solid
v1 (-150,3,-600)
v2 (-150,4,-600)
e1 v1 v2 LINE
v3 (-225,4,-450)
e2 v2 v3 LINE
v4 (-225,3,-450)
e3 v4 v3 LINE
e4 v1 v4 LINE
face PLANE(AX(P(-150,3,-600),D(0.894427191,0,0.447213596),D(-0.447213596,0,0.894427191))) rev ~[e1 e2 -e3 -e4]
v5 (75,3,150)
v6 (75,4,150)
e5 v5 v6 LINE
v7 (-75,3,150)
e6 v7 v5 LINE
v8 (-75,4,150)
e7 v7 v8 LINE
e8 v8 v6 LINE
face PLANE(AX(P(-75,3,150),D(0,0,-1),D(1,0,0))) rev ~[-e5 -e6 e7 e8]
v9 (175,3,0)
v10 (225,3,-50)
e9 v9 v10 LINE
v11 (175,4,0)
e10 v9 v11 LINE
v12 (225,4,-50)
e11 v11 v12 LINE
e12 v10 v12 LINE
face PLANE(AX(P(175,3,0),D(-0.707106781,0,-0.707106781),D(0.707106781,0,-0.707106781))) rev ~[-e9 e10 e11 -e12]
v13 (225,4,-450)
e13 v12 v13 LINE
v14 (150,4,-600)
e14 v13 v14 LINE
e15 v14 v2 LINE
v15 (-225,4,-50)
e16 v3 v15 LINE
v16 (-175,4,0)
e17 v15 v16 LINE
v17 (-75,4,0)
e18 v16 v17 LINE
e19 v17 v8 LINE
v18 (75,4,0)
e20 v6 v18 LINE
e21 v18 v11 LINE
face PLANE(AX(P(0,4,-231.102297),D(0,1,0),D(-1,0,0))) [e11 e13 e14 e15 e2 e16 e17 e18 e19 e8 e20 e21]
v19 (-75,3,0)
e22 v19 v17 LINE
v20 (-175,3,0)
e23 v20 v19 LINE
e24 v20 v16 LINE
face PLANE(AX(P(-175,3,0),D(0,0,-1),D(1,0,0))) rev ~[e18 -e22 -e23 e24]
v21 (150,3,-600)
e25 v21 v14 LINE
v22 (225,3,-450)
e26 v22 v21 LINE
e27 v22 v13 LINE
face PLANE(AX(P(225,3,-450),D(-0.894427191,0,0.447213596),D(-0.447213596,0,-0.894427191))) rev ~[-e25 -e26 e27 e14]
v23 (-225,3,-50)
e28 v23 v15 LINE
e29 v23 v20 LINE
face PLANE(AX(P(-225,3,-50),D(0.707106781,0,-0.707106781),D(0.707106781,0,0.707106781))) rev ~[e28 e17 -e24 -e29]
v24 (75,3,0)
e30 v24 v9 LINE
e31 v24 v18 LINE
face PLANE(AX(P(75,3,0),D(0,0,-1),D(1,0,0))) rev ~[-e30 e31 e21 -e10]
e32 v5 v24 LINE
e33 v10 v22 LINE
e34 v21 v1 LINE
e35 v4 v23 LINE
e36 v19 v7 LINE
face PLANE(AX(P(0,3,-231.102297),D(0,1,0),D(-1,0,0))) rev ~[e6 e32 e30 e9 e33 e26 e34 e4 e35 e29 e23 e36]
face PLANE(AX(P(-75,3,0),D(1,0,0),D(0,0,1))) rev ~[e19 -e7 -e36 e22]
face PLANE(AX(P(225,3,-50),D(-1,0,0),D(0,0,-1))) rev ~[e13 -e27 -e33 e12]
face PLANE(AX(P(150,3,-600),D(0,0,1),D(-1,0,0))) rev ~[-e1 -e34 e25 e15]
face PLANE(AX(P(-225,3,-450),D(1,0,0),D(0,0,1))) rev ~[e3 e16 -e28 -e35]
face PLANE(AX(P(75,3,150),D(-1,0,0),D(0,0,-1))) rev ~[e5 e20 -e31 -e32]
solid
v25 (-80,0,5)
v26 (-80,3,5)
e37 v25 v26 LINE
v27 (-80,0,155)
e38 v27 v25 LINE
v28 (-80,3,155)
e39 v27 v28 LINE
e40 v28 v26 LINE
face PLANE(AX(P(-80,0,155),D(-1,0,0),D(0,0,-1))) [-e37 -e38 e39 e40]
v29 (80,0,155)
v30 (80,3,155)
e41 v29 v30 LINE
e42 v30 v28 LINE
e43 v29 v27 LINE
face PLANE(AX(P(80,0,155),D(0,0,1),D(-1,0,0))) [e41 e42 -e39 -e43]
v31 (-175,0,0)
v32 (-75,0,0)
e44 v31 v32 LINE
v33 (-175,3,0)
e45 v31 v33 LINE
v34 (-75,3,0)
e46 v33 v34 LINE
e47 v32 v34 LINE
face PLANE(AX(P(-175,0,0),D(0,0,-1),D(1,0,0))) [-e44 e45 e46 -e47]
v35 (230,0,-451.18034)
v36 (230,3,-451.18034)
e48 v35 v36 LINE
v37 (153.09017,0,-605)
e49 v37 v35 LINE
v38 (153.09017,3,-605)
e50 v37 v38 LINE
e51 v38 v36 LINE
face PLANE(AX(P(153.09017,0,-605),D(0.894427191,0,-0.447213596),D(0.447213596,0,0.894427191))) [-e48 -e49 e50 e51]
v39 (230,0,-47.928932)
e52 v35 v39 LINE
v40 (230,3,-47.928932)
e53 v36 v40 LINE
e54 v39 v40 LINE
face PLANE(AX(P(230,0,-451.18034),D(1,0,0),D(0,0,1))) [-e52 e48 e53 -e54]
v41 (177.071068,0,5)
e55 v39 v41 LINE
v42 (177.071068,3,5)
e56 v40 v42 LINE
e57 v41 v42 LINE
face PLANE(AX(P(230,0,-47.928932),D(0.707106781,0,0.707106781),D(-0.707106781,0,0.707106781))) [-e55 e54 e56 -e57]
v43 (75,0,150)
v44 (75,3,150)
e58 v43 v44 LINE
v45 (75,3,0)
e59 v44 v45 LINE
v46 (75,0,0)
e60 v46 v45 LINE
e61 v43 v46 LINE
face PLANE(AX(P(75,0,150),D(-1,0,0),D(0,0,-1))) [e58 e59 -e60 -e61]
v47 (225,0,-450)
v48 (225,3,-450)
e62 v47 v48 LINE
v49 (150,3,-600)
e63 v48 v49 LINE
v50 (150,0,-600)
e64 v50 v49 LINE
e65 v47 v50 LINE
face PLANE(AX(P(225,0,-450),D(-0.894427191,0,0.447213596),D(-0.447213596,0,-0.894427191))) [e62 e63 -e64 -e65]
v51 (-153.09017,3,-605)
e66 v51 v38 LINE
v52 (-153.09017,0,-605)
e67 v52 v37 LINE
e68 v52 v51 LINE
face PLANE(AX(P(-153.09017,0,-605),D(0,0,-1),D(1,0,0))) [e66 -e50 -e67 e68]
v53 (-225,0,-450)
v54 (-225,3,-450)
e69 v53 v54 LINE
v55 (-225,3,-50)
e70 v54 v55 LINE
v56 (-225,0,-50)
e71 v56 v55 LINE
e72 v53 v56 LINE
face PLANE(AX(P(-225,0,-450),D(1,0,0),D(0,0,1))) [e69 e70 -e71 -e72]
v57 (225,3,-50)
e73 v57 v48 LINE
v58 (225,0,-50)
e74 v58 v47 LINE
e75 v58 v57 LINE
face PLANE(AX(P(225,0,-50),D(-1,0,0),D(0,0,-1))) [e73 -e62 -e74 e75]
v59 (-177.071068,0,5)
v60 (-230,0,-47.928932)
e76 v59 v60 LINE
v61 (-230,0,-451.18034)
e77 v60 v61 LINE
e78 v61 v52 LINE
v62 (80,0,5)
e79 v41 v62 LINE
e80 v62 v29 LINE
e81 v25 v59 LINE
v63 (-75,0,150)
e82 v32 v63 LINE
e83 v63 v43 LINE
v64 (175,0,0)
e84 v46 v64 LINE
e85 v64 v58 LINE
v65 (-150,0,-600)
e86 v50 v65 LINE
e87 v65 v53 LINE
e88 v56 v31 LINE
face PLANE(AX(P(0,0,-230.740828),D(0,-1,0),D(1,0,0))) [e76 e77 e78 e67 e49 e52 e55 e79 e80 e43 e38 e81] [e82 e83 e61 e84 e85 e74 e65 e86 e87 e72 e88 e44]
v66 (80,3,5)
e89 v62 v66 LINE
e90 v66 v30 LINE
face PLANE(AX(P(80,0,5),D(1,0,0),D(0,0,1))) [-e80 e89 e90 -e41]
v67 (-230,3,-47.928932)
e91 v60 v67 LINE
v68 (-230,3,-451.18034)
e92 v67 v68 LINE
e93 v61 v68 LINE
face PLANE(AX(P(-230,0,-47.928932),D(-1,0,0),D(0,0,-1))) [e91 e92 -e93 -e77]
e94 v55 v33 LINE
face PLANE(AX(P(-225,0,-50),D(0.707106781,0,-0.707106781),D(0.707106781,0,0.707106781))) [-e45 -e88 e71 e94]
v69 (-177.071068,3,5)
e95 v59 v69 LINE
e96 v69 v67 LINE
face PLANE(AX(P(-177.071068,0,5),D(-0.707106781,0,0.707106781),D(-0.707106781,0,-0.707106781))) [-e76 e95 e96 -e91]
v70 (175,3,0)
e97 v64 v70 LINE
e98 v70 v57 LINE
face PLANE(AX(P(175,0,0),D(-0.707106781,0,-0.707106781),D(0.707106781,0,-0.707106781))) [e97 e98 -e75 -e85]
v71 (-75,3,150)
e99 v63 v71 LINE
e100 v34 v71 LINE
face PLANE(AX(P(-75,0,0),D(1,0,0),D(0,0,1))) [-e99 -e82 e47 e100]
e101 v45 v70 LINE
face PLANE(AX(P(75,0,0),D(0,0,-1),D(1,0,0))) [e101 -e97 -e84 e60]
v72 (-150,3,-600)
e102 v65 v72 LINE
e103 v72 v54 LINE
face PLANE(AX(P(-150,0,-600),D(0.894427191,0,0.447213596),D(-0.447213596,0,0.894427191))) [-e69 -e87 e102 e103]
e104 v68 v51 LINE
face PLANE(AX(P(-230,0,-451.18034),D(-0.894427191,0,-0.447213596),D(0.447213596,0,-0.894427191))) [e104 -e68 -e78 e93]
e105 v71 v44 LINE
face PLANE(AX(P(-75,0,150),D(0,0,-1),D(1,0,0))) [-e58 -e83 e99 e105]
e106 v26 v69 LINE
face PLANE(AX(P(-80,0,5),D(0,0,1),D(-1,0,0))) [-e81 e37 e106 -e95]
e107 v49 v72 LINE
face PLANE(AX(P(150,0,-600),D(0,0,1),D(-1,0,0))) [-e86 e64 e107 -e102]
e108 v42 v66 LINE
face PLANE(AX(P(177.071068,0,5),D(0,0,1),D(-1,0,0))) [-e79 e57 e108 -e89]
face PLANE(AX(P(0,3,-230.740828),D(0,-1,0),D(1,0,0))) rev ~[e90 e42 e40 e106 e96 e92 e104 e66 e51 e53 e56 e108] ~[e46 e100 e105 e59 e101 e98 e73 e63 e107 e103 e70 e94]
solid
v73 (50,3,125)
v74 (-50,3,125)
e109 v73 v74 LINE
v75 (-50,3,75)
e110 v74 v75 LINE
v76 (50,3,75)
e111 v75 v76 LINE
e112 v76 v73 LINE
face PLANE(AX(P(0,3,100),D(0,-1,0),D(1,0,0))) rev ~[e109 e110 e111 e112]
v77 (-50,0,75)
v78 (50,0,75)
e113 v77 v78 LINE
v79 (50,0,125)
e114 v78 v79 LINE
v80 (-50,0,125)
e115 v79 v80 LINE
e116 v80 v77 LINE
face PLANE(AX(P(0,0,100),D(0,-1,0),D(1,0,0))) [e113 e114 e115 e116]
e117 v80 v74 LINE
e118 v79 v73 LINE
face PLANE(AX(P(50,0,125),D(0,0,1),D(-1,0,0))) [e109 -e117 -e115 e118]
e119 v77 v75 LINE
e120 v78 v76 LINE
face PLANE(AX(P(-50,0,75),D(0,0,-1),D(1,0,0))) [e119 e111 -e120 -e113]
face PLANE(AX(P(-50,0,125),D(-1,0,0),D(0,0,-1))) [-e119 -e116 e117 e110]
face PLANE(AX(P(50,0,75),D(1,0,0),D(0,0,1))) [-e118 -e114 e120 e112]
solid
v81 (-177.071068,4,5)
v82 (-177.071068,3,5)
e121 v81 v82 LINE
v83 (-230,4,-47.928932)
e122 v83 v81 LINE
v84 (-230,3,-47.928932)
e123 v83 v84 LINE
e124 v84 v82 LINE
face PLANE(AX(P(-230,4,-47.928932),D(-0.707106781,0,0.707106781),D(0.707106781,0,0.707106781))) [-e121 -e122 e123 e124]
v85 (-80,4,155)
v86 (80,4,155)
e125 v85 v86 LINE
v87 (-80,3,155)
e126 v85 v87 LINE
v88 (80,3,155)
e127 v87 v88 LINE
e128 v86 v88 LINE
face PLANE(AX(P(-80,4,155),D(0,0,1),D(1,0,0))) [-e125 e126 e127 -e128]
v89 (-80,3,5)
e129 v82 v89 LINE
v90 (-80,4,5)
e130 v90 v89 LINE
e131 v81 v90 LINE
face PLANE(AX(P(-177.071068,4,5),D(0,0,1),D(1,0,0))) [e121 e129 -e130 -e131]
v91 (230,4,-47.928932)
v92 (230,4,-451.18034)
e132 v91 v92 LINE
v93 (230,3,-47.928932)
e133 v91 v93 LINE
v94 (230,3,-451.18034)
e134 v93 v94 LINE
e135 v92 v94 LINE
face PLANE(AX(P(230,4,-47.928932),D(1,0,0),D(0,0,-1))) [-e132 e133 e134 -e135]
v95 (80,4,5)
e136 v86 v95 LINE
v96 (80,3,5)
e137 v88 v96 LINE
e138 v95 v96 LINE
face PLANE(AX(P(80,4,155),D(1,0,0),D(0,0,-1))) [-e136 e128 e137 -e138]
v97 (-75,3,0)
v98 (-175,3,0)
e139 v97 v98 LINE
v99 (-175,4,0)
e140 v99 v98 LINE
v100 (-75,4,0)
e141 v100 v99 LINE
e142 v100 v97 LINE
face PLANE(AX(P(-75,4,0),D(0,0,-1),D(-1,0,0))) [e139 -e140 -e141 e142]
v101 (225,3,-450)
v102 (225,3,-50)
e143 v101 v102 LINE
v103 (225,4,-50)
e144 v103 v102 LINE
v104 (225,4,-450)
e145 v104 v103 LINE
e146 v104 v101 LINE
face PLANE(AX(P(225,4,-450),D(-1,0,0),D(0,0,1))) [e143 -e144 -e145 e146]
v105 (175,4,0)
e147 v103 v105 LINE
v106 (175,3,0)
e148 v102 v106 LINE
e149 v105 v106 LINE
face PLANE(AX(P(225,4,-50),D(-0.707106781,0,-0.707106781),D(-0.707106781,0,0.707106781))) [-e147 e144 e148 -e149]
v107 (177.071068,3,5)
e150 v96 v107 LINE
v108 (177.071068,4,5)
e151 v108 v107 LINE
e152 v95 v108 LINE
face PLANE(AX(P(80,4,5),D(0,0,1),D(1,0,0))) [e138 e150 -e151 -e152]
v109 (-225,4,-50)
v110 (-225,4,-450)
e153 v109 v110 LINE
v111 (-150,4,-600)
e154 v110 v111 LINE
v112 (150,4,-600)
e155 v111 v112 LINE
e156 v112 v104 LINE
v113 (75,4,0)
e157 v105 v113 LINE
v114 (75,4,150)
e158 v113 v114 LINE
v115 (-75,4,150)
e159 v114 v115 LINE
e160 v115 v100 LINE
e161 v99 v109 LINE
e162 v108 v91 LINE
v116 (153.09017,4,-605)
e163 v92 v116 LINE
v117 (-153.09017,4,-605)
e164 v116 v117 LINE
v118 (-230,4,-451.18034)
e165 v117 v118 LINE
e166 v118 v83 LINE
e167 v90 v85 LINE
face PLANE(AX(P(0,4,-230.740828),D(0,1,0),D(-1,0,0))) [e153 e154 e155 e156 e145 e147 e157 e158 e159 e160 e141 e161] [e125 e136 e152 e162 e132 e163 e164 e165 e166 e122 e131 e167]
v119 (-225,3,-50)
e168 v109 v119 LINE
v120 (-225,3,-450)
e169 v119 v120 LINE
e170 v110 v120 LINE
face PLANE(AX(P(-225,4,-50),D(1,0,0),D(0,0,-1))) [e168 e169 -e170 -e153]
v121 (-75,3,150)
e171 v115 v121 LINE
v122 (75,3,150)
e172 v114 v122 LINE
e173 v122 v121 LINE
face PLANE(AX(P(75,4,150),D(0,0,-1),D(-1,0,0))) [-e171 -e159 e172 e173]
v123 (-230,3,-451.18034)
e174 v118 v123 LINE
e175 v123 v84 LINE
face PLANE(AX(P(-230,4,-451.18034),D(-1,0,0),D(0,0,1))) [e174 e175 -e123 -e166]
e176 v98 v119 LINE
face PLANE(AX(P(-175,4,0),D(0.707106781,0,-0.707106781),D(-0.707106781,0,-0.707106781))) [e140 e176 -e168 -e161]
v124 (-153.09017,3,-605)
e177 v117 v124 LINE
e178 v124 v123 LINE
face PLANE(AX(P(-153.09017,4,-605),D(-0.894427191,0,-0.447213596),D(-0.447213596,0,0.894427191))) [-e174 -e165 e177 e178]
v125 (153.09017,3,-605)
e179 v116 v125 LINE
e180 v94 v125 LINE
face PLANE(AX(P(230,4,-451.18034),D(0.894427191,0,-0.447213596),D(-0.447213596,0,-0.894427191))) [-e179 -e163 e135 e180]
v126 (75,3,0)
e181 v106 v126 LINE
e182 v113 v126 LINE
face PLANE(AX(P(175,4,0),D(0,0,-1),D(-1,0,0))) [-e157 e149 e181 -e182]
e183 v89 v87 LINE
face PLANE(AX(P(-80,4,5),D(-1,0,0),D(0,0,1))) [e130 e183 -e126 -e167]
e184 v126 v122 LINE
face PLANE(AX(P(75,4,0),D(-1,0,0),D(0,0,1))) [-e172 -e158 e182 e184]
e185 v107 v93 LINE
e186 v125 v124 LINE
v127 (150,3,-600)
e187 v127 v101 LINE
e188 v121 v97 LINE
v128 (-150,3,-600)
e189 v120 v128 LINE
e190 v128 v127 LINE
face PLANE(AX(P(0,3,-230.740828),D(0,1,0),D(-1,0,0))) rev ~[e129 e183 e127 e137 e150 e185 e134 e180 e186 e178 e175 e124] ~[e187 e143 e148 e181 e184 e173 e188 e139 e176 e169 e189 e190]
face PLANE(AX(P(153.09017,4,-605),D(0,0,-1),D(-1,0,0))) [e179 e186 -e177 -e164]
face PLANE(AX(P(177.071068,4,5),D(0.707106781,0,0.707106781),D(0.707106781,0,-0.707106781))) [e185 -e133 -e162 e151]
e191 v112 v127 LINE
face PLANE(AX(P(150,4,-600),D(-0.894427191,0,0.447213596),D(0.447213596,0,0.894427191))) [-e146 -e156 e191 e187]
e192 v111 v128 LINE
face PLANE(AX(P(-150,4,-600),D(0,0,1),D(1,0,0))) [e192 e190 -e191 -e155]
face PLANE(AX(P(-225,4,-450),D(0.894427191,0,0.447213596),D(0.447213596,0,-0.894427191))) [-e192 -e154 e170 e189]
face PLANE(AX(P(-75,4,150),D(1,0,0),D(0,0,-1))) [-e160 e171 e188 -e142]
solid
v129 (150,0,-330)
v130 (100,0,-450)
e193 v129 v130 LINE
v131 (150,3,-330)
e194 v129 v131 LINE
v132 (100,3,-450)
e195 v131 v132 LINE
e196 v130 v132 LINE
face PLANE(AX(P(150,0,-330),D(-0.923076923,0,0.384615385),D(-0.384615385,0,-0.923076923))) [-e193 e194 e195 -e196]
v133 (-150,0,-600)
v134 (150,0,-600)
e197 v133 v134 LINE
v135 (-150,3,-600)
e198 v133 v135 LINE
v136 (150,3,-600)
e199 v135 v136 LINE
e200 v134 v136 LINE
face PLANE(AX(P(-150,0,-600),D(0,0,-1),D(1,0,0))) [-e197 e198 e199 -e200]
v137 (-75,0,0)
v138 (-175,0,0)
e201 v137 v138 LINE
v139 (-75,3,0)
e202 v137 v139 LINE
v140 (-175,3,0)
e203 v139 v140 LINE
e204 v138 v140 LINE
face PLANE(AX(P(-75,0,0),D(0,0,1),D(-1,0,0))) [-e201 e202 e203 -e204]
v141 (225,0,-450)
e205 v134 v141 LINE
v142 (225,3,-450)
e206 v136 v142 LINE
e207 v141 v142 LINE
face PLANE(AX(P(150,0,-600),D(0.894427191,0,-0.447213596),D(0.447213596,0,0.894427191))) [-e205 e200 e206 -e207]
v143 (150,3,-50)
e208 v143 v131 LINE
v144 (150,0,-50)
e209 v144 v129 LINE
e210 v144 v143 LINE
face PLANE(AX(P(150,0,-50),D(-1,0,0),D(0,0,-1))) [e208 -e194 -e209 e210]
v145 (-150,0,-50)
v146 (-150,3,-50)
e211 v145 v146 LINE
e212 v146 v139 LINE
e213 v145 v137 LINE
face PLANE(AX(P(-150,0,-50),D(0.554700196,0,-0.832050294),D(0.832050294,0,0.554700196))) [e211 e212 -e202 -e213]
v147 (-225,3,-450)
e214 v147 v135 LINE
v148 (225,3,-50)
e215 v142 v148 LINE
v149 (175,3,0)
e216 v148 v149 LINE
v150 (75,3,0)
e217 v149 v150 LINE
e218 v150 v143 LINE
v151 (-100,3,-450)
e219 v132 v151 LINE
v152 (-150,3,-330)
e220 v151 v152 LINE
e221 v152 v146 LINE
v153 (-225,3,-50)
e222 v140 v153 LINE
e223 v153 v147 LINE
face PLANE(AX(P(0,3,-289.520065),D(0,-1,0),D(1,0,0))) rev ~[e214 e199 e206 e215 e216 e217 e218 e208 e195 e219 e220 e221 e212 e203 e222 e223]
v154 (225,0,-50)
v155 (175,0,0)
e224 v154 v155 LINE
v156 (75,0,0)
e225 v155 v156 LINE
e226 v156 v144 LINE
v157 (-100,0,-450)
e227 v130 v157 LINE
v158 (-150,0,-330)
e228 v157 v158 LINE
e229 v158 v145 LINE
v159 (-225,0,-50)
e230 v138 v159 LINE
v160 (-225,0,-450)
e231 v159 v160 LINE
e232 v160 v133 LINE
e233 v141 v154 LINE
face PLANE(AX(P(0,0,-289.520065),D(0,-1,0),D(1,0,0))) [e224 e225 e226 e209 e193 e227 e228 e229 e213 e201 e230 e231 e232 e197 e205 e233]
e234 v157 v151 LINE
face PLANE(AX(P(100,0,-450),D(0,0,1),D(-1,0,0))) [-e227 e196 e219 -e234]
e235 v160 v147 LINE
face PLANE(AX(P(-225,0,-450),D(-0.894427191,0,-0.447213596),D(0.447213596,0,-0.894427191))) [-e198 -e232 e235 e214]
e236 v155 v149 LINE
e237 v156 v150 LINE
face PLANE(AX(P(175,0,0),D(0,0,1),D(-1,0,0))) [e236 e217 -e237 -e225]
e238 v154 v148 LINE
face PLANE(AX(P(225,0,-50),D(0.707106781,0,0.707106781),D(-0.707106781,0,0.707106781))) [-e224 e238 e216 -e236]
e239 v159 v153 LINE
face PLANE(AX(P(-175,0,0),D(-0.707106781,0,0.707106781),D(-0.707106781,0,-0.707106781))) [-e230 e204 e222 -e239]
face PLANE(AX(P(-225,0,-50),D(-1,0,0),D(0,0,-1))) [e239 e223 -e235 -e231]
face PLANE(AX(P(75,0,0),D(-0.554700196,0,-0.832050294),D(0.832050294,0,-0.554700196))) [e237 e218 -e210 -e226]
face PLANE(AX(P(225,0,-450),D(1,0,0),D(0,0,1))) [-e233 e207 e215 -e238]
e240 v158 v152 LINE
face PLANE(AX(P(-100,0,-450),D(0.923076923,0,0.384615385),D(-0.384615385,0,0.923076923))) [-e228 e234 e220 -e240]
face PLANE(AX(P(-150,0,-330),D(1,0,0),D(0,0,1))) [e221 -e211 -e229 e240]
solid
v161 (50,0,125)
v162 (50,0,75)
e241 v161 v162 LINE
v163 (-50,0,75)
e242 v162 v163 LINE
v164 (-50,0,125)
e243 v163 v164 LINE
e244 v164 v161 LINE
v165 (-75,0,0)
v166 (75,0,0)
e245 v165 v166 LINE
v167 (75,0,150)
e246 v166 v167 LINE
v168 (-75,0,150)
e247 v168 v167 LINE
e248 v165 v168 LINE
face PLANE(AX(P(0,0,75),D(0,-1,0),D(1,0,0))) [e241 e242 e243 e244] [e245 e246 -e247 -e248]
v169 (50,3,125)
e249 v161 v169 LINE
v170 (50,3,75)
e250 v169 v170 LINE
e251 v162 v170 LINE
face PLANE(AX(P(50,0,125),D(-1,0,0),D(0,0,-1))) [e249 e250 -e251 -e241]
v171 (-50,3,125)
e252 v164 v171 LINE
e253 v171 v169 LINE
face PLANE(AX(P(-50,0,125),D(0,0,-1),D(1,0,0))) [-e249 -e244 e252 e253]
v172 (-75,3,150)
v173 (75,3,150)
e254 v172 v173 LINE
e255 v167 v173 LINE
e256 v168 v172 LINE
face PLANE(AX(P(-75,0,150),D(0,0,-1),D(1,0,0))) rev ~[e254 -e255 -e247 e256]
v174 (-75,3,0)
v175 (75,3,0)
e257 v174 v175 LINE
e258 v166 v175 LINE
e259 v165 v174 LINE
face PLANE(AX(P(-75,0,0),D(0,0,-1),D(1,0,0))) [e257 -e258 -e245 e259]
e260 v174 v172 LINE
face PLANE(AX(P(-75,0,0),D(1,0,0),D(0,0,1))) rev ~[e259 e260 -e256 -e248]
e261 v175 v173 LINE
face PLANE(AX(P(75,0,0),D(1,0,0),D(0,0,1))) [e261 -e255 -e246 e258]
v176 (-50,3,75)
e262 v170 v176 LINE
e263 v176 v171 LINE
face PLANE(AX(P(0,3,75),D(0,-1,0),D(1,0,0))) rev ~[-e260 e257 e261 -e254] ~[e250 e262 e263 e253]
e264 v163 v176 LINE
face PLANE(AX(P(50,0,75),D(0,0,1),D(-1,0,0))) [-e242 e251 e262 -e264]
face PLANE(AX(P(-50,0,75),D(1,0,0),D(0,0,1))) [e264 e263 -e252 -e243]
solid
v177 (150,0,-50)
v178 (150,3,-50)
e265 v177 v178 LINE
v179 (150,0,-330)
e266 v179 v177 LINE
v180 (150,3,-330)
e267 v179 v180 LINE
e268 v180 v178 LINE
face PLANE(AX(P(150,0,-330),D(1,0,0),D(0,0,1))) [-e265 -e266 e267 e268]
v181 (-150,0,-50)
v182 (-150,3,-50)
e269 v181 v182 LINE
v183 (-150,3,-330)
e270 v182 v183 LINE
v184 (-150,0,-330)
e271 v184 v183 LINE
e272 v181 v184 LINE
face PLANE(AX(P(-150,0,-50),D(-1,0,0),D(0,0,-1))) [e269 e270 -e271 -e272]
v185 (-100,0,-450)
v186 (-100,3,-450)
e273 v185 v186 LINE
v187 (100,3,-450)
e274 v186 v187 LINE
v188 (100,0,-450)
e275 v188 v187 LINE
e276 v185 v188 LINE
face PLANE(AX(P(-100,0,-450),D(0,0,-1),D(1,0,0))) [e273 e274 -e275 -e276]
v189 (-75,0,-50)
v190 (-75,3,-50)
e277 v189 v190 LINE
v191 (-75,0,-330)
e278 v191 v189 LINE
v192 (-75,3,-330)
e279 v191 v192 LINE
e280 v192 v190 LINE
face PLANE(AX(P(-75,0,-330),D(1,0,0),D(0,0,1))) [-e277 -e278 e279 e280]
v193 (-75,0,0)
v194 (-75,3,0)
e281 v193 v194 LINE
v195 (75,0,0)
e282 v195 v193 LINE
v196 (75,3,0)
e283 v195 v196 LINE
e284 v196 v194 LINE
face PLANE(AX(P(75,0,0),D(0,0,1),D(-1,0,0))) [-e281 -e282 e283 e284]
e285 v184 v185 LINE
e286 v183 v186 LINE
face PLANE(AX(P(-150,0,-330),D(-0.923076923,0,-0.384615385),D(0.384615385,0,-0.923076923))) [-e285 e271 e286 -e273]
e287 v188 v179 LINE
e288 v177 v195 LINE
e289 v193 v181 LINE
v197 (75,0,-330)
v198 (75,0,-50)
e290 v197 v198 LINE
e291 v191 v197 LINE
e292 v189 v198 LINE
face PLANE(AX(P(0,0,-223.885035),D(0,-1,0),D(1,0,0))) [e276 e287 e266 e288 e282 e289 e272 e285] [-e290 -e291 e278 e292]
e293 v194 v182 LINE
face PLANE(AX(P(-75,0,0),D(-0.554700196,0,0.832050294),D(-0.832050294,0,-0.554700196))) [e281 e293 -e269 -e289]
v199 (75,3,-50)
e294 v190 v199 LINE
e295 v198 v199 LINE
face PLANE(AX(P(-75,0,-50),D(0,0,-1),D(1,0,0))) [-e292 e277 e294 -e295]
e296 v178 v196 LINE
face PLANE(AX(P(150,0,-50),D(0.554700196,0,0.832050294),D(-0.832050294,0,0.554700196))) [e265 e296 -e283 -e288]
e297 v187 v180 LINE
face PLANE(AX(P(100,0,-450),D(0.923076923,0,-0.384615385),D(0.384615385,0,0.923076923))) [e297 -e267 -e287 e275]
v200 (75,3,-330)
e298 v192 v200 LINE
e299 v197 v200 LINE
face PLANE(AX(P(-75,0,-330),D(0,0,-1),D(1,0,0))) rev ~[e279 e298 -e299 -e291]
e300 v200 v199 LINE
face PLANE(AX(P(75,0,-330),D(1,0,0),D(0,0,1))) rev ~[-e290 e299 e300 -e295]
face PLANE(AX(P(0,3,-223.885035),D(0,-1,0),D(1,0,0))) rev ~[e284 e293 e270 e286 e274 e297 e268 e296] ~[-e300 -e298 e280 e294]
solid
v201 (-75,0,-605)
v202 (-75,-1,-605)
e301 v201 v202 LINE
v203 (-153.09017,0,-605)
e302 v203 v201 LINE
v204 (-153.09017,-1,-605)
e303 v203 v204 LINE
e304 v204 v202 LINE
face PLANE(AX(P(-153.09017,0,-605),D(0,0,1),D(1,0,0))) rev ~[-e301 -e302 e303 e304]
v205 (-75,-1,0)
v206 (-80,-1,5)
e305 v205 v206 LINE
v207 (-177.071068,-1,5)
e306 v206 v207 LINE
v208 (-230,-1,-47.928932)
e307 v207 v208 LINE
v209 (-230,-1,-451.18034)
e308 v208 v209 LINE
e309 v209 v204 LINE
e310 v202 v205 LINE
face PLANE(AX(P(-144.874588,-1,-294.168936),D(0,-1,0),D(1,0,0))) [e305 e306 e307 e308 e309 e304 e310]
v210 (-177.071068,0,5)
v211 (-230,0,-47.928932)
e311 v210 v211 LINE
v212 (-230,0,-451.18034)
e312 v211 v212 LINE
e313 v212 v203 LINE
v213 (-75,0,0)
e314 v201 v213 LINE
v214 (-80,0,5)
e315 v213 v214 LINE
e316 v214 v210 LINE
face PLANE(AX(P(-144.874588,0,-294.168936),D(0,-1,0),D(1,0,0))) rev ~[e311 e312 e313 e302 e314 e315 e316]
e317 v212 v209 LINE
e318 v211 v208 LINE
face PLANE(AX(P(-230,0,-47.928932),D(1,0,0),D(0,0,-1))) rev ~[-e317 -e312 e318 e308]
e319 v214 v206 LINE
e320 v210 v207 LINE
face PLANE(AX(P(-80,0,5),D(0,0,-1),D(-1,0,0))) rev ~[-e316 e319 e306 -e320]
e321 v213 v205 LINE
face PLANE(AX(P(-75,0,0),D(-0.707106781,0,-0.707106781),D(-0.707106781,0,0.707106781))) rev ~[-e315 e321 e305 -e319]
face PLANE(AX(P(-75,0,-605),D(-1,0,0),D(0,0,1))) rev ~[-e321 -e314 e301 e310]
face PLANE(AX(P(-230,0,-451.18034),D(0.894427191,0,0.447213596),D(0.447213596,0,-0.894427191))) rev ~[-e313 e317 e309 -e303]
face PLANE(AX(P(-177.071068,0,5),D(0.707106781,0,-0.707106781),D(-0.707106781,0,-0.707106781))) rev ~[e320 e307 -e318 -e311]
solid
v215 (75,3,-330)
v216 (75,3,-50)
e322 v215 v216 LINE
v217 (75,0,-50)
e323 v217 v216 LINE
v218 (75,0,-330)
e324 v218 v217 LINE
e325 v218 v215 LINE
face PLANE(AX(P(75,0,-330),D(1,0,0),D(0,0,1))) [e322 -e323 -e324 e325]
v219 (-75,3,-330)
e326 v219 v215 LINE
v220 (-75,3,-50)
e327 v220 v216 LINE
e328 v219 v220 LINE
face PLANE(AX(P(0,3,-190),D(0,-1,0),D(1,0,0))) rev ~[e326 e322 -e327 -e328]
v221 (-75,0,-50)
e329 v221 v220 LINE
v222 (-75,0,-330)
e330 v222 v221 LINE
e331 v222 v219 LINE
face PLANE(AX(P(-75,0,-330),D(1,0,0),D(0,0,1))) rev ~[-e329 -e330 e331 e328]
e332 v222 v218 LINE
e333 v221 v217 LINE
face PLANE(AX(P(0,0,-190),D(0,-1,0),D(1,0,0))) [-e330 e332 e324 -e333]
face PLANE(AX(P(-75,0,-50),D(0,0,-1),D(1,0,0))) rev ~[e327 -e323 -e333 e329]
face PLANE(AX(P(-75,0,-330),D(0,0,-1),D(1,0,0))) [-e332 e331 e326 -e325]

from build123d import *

# Parameters (mm, degrees)
F1_DEPTH  = 3
F2_W      = 150
F2_H      = 150
F3_DEPTH  = 3
F4_W      = 150
F4_H      = 280
F5_DEPTH  = 3
F6_W      = 150
F6_H      = 280
F7_DEPTH  = 3
F9_DEPTH  = 3
F11_DEPTH = 3
F13_DEPTH = 1
F15_DEPTH = 1
F17_DEPTH = 1


with BuildPart() as f1:
    # F0 (on Front) → F1 (new body)
    with BuildSketch(Plane.XZ):
        Polygon((50, 125), (0, 125), (-50, 125), (-50, 100), (-50, 75), (0, 75), (50, 75), (50, 100), align=None)
    extrude(amount=-F1_DEPTH)


with BuildPart() as f3:
    # F2 (on Front) → F3 (new body)
    with BuildSketch(Plane.XZ):
        with Locations((0, 75)):
            Rectangle(F2_W, F2_H)
        Polygon((-50, 125), (0, 125), (50, 125), (50, 100), (50, 75), (0, 75), (-50, 75), (-50, 100), align=None, mode=Mode.SUBTRACT)
    extrude(amount=-F3_DEPTH)


with BuildPart() as f5:
    # F4 (on Front) → F5 (new body)
    with BuildSketch(Plane.XZ):
        with Locations((0, -190)):
            Rectangle(F4_W, F4_H)
    extrude(amount=-F5_DEPTH)


with BuildPart() as f7:
    # F6 (on Front) → F7 (new body)
    with BuildSketch(Plane.XZ):
        Polygon((75, 0), (-75, 0), (-150, -50), (-150, -330), (-100, -450), (100, -450), (150, -330), (150, -50), align=None)
        with Locations((0, -190)):
            Rectangle(F6_W, F6_H, mode=Mode.SUBTRACT)
    extrude(amount=-F7_DEPTH)


with BuildPart() as f9:
    # F8 (on face) → F9 (new body)
    with BuildSketch(Plane.XZ):
        Polygon((175, 0), (75, 0), (150, -50), (150, -330), (100, -450), (-100, -450), (-150, -330), (-150, -50), (-75, 0), (-175, 0), (-225, -50), (-225, -450), (-150, -600), (150, -600), (225, -450), (225, -50), align=None)
    extrude(amount=-F9_DEPTH)


with BuildPart() as f11:
    # F10 (on face) → F11 (new body)
    with BuildSketch(Plane.XZ):
        Polygon((230, -47.928932), (177.071068, 5), (80, 5), (80, 155), (-80, 155), (-80, 5), (-177.071068, 5), (-230, -47.928932), (-230, -451.18034), (-153.09017, -605), (153.09017, -605), (230, -451.18034), align=None)
        Polygon((-75, 150), (75, 150), (75, 0), (175, 0), (225, -50), (225, -450), (150, -600), (-150, -600), (-225, -450), (-225, -50), (-175, 0), (-75, 0), align=None, mode=Mode.SUBTRACT)
    extrude(amount=-F11_DEPTH)


with BuildPart() as f13:
    # F12 (on face) → F13 (new body)
    with BuildSketch(Plane(origin=(0, 3, 0), x_dir=(-1, 0, 0), z_dir=(0, 1, 0))):
        Polygon((75, 0), (75, 150), (-75, 150), (-75, 0), (-175, 0), (-225, -50), (-225, -450), (-150, -600), (150, -600), (225, -450), (225, -50), (175, 0), align=None)
    extrude(amount=F13_DEPTH)


with BuildPart() as f15:
    # F14 (on face) → F15 (new body)
    with BuildSketch(Plane(origin=(0, 4, 0), x_dir=(-1, 0, 0), z_dir=(0, 1, 0))):
        Polygon((80, 155), (-80, 155), (-80, 5), (-177.071068, 5), (-230, -47.928932), (-230, -451.18034), (-153.09017, -605), (153.09017, -605), (230, -451.18034), (230, -47.928932), (177.071068, 5), (80, 5), align=None)
        Polygon((-75, 0), (-75, 150), (75, 150), (75, 0), (175, 0), (225, -50), (225, -450), (150, -600), (-150, -600), (-225, -450), (-225, -50), (-175, 0), align=None, mode=Mode.SUBTRACT)
    extrude(amount=-F15_DEPTH)


with BuildPart() as f17:
    # F16 (on face) → F17 (new body)
    with BuildSketch(Plane.XZ):
        Polygon((-153.09017, -605), (-75, -605), (-75, 0), (-80, 5), (-177.071068, 5), (-230, -47.928932), (-230, -451.18034), align=None)
    extrude(amount=F17_DEPTH)


solid = Compound([f1.part, f3.part, f5.part, f7.part, f9.part, f11.part, f13.part, f15.part, f17.part])
